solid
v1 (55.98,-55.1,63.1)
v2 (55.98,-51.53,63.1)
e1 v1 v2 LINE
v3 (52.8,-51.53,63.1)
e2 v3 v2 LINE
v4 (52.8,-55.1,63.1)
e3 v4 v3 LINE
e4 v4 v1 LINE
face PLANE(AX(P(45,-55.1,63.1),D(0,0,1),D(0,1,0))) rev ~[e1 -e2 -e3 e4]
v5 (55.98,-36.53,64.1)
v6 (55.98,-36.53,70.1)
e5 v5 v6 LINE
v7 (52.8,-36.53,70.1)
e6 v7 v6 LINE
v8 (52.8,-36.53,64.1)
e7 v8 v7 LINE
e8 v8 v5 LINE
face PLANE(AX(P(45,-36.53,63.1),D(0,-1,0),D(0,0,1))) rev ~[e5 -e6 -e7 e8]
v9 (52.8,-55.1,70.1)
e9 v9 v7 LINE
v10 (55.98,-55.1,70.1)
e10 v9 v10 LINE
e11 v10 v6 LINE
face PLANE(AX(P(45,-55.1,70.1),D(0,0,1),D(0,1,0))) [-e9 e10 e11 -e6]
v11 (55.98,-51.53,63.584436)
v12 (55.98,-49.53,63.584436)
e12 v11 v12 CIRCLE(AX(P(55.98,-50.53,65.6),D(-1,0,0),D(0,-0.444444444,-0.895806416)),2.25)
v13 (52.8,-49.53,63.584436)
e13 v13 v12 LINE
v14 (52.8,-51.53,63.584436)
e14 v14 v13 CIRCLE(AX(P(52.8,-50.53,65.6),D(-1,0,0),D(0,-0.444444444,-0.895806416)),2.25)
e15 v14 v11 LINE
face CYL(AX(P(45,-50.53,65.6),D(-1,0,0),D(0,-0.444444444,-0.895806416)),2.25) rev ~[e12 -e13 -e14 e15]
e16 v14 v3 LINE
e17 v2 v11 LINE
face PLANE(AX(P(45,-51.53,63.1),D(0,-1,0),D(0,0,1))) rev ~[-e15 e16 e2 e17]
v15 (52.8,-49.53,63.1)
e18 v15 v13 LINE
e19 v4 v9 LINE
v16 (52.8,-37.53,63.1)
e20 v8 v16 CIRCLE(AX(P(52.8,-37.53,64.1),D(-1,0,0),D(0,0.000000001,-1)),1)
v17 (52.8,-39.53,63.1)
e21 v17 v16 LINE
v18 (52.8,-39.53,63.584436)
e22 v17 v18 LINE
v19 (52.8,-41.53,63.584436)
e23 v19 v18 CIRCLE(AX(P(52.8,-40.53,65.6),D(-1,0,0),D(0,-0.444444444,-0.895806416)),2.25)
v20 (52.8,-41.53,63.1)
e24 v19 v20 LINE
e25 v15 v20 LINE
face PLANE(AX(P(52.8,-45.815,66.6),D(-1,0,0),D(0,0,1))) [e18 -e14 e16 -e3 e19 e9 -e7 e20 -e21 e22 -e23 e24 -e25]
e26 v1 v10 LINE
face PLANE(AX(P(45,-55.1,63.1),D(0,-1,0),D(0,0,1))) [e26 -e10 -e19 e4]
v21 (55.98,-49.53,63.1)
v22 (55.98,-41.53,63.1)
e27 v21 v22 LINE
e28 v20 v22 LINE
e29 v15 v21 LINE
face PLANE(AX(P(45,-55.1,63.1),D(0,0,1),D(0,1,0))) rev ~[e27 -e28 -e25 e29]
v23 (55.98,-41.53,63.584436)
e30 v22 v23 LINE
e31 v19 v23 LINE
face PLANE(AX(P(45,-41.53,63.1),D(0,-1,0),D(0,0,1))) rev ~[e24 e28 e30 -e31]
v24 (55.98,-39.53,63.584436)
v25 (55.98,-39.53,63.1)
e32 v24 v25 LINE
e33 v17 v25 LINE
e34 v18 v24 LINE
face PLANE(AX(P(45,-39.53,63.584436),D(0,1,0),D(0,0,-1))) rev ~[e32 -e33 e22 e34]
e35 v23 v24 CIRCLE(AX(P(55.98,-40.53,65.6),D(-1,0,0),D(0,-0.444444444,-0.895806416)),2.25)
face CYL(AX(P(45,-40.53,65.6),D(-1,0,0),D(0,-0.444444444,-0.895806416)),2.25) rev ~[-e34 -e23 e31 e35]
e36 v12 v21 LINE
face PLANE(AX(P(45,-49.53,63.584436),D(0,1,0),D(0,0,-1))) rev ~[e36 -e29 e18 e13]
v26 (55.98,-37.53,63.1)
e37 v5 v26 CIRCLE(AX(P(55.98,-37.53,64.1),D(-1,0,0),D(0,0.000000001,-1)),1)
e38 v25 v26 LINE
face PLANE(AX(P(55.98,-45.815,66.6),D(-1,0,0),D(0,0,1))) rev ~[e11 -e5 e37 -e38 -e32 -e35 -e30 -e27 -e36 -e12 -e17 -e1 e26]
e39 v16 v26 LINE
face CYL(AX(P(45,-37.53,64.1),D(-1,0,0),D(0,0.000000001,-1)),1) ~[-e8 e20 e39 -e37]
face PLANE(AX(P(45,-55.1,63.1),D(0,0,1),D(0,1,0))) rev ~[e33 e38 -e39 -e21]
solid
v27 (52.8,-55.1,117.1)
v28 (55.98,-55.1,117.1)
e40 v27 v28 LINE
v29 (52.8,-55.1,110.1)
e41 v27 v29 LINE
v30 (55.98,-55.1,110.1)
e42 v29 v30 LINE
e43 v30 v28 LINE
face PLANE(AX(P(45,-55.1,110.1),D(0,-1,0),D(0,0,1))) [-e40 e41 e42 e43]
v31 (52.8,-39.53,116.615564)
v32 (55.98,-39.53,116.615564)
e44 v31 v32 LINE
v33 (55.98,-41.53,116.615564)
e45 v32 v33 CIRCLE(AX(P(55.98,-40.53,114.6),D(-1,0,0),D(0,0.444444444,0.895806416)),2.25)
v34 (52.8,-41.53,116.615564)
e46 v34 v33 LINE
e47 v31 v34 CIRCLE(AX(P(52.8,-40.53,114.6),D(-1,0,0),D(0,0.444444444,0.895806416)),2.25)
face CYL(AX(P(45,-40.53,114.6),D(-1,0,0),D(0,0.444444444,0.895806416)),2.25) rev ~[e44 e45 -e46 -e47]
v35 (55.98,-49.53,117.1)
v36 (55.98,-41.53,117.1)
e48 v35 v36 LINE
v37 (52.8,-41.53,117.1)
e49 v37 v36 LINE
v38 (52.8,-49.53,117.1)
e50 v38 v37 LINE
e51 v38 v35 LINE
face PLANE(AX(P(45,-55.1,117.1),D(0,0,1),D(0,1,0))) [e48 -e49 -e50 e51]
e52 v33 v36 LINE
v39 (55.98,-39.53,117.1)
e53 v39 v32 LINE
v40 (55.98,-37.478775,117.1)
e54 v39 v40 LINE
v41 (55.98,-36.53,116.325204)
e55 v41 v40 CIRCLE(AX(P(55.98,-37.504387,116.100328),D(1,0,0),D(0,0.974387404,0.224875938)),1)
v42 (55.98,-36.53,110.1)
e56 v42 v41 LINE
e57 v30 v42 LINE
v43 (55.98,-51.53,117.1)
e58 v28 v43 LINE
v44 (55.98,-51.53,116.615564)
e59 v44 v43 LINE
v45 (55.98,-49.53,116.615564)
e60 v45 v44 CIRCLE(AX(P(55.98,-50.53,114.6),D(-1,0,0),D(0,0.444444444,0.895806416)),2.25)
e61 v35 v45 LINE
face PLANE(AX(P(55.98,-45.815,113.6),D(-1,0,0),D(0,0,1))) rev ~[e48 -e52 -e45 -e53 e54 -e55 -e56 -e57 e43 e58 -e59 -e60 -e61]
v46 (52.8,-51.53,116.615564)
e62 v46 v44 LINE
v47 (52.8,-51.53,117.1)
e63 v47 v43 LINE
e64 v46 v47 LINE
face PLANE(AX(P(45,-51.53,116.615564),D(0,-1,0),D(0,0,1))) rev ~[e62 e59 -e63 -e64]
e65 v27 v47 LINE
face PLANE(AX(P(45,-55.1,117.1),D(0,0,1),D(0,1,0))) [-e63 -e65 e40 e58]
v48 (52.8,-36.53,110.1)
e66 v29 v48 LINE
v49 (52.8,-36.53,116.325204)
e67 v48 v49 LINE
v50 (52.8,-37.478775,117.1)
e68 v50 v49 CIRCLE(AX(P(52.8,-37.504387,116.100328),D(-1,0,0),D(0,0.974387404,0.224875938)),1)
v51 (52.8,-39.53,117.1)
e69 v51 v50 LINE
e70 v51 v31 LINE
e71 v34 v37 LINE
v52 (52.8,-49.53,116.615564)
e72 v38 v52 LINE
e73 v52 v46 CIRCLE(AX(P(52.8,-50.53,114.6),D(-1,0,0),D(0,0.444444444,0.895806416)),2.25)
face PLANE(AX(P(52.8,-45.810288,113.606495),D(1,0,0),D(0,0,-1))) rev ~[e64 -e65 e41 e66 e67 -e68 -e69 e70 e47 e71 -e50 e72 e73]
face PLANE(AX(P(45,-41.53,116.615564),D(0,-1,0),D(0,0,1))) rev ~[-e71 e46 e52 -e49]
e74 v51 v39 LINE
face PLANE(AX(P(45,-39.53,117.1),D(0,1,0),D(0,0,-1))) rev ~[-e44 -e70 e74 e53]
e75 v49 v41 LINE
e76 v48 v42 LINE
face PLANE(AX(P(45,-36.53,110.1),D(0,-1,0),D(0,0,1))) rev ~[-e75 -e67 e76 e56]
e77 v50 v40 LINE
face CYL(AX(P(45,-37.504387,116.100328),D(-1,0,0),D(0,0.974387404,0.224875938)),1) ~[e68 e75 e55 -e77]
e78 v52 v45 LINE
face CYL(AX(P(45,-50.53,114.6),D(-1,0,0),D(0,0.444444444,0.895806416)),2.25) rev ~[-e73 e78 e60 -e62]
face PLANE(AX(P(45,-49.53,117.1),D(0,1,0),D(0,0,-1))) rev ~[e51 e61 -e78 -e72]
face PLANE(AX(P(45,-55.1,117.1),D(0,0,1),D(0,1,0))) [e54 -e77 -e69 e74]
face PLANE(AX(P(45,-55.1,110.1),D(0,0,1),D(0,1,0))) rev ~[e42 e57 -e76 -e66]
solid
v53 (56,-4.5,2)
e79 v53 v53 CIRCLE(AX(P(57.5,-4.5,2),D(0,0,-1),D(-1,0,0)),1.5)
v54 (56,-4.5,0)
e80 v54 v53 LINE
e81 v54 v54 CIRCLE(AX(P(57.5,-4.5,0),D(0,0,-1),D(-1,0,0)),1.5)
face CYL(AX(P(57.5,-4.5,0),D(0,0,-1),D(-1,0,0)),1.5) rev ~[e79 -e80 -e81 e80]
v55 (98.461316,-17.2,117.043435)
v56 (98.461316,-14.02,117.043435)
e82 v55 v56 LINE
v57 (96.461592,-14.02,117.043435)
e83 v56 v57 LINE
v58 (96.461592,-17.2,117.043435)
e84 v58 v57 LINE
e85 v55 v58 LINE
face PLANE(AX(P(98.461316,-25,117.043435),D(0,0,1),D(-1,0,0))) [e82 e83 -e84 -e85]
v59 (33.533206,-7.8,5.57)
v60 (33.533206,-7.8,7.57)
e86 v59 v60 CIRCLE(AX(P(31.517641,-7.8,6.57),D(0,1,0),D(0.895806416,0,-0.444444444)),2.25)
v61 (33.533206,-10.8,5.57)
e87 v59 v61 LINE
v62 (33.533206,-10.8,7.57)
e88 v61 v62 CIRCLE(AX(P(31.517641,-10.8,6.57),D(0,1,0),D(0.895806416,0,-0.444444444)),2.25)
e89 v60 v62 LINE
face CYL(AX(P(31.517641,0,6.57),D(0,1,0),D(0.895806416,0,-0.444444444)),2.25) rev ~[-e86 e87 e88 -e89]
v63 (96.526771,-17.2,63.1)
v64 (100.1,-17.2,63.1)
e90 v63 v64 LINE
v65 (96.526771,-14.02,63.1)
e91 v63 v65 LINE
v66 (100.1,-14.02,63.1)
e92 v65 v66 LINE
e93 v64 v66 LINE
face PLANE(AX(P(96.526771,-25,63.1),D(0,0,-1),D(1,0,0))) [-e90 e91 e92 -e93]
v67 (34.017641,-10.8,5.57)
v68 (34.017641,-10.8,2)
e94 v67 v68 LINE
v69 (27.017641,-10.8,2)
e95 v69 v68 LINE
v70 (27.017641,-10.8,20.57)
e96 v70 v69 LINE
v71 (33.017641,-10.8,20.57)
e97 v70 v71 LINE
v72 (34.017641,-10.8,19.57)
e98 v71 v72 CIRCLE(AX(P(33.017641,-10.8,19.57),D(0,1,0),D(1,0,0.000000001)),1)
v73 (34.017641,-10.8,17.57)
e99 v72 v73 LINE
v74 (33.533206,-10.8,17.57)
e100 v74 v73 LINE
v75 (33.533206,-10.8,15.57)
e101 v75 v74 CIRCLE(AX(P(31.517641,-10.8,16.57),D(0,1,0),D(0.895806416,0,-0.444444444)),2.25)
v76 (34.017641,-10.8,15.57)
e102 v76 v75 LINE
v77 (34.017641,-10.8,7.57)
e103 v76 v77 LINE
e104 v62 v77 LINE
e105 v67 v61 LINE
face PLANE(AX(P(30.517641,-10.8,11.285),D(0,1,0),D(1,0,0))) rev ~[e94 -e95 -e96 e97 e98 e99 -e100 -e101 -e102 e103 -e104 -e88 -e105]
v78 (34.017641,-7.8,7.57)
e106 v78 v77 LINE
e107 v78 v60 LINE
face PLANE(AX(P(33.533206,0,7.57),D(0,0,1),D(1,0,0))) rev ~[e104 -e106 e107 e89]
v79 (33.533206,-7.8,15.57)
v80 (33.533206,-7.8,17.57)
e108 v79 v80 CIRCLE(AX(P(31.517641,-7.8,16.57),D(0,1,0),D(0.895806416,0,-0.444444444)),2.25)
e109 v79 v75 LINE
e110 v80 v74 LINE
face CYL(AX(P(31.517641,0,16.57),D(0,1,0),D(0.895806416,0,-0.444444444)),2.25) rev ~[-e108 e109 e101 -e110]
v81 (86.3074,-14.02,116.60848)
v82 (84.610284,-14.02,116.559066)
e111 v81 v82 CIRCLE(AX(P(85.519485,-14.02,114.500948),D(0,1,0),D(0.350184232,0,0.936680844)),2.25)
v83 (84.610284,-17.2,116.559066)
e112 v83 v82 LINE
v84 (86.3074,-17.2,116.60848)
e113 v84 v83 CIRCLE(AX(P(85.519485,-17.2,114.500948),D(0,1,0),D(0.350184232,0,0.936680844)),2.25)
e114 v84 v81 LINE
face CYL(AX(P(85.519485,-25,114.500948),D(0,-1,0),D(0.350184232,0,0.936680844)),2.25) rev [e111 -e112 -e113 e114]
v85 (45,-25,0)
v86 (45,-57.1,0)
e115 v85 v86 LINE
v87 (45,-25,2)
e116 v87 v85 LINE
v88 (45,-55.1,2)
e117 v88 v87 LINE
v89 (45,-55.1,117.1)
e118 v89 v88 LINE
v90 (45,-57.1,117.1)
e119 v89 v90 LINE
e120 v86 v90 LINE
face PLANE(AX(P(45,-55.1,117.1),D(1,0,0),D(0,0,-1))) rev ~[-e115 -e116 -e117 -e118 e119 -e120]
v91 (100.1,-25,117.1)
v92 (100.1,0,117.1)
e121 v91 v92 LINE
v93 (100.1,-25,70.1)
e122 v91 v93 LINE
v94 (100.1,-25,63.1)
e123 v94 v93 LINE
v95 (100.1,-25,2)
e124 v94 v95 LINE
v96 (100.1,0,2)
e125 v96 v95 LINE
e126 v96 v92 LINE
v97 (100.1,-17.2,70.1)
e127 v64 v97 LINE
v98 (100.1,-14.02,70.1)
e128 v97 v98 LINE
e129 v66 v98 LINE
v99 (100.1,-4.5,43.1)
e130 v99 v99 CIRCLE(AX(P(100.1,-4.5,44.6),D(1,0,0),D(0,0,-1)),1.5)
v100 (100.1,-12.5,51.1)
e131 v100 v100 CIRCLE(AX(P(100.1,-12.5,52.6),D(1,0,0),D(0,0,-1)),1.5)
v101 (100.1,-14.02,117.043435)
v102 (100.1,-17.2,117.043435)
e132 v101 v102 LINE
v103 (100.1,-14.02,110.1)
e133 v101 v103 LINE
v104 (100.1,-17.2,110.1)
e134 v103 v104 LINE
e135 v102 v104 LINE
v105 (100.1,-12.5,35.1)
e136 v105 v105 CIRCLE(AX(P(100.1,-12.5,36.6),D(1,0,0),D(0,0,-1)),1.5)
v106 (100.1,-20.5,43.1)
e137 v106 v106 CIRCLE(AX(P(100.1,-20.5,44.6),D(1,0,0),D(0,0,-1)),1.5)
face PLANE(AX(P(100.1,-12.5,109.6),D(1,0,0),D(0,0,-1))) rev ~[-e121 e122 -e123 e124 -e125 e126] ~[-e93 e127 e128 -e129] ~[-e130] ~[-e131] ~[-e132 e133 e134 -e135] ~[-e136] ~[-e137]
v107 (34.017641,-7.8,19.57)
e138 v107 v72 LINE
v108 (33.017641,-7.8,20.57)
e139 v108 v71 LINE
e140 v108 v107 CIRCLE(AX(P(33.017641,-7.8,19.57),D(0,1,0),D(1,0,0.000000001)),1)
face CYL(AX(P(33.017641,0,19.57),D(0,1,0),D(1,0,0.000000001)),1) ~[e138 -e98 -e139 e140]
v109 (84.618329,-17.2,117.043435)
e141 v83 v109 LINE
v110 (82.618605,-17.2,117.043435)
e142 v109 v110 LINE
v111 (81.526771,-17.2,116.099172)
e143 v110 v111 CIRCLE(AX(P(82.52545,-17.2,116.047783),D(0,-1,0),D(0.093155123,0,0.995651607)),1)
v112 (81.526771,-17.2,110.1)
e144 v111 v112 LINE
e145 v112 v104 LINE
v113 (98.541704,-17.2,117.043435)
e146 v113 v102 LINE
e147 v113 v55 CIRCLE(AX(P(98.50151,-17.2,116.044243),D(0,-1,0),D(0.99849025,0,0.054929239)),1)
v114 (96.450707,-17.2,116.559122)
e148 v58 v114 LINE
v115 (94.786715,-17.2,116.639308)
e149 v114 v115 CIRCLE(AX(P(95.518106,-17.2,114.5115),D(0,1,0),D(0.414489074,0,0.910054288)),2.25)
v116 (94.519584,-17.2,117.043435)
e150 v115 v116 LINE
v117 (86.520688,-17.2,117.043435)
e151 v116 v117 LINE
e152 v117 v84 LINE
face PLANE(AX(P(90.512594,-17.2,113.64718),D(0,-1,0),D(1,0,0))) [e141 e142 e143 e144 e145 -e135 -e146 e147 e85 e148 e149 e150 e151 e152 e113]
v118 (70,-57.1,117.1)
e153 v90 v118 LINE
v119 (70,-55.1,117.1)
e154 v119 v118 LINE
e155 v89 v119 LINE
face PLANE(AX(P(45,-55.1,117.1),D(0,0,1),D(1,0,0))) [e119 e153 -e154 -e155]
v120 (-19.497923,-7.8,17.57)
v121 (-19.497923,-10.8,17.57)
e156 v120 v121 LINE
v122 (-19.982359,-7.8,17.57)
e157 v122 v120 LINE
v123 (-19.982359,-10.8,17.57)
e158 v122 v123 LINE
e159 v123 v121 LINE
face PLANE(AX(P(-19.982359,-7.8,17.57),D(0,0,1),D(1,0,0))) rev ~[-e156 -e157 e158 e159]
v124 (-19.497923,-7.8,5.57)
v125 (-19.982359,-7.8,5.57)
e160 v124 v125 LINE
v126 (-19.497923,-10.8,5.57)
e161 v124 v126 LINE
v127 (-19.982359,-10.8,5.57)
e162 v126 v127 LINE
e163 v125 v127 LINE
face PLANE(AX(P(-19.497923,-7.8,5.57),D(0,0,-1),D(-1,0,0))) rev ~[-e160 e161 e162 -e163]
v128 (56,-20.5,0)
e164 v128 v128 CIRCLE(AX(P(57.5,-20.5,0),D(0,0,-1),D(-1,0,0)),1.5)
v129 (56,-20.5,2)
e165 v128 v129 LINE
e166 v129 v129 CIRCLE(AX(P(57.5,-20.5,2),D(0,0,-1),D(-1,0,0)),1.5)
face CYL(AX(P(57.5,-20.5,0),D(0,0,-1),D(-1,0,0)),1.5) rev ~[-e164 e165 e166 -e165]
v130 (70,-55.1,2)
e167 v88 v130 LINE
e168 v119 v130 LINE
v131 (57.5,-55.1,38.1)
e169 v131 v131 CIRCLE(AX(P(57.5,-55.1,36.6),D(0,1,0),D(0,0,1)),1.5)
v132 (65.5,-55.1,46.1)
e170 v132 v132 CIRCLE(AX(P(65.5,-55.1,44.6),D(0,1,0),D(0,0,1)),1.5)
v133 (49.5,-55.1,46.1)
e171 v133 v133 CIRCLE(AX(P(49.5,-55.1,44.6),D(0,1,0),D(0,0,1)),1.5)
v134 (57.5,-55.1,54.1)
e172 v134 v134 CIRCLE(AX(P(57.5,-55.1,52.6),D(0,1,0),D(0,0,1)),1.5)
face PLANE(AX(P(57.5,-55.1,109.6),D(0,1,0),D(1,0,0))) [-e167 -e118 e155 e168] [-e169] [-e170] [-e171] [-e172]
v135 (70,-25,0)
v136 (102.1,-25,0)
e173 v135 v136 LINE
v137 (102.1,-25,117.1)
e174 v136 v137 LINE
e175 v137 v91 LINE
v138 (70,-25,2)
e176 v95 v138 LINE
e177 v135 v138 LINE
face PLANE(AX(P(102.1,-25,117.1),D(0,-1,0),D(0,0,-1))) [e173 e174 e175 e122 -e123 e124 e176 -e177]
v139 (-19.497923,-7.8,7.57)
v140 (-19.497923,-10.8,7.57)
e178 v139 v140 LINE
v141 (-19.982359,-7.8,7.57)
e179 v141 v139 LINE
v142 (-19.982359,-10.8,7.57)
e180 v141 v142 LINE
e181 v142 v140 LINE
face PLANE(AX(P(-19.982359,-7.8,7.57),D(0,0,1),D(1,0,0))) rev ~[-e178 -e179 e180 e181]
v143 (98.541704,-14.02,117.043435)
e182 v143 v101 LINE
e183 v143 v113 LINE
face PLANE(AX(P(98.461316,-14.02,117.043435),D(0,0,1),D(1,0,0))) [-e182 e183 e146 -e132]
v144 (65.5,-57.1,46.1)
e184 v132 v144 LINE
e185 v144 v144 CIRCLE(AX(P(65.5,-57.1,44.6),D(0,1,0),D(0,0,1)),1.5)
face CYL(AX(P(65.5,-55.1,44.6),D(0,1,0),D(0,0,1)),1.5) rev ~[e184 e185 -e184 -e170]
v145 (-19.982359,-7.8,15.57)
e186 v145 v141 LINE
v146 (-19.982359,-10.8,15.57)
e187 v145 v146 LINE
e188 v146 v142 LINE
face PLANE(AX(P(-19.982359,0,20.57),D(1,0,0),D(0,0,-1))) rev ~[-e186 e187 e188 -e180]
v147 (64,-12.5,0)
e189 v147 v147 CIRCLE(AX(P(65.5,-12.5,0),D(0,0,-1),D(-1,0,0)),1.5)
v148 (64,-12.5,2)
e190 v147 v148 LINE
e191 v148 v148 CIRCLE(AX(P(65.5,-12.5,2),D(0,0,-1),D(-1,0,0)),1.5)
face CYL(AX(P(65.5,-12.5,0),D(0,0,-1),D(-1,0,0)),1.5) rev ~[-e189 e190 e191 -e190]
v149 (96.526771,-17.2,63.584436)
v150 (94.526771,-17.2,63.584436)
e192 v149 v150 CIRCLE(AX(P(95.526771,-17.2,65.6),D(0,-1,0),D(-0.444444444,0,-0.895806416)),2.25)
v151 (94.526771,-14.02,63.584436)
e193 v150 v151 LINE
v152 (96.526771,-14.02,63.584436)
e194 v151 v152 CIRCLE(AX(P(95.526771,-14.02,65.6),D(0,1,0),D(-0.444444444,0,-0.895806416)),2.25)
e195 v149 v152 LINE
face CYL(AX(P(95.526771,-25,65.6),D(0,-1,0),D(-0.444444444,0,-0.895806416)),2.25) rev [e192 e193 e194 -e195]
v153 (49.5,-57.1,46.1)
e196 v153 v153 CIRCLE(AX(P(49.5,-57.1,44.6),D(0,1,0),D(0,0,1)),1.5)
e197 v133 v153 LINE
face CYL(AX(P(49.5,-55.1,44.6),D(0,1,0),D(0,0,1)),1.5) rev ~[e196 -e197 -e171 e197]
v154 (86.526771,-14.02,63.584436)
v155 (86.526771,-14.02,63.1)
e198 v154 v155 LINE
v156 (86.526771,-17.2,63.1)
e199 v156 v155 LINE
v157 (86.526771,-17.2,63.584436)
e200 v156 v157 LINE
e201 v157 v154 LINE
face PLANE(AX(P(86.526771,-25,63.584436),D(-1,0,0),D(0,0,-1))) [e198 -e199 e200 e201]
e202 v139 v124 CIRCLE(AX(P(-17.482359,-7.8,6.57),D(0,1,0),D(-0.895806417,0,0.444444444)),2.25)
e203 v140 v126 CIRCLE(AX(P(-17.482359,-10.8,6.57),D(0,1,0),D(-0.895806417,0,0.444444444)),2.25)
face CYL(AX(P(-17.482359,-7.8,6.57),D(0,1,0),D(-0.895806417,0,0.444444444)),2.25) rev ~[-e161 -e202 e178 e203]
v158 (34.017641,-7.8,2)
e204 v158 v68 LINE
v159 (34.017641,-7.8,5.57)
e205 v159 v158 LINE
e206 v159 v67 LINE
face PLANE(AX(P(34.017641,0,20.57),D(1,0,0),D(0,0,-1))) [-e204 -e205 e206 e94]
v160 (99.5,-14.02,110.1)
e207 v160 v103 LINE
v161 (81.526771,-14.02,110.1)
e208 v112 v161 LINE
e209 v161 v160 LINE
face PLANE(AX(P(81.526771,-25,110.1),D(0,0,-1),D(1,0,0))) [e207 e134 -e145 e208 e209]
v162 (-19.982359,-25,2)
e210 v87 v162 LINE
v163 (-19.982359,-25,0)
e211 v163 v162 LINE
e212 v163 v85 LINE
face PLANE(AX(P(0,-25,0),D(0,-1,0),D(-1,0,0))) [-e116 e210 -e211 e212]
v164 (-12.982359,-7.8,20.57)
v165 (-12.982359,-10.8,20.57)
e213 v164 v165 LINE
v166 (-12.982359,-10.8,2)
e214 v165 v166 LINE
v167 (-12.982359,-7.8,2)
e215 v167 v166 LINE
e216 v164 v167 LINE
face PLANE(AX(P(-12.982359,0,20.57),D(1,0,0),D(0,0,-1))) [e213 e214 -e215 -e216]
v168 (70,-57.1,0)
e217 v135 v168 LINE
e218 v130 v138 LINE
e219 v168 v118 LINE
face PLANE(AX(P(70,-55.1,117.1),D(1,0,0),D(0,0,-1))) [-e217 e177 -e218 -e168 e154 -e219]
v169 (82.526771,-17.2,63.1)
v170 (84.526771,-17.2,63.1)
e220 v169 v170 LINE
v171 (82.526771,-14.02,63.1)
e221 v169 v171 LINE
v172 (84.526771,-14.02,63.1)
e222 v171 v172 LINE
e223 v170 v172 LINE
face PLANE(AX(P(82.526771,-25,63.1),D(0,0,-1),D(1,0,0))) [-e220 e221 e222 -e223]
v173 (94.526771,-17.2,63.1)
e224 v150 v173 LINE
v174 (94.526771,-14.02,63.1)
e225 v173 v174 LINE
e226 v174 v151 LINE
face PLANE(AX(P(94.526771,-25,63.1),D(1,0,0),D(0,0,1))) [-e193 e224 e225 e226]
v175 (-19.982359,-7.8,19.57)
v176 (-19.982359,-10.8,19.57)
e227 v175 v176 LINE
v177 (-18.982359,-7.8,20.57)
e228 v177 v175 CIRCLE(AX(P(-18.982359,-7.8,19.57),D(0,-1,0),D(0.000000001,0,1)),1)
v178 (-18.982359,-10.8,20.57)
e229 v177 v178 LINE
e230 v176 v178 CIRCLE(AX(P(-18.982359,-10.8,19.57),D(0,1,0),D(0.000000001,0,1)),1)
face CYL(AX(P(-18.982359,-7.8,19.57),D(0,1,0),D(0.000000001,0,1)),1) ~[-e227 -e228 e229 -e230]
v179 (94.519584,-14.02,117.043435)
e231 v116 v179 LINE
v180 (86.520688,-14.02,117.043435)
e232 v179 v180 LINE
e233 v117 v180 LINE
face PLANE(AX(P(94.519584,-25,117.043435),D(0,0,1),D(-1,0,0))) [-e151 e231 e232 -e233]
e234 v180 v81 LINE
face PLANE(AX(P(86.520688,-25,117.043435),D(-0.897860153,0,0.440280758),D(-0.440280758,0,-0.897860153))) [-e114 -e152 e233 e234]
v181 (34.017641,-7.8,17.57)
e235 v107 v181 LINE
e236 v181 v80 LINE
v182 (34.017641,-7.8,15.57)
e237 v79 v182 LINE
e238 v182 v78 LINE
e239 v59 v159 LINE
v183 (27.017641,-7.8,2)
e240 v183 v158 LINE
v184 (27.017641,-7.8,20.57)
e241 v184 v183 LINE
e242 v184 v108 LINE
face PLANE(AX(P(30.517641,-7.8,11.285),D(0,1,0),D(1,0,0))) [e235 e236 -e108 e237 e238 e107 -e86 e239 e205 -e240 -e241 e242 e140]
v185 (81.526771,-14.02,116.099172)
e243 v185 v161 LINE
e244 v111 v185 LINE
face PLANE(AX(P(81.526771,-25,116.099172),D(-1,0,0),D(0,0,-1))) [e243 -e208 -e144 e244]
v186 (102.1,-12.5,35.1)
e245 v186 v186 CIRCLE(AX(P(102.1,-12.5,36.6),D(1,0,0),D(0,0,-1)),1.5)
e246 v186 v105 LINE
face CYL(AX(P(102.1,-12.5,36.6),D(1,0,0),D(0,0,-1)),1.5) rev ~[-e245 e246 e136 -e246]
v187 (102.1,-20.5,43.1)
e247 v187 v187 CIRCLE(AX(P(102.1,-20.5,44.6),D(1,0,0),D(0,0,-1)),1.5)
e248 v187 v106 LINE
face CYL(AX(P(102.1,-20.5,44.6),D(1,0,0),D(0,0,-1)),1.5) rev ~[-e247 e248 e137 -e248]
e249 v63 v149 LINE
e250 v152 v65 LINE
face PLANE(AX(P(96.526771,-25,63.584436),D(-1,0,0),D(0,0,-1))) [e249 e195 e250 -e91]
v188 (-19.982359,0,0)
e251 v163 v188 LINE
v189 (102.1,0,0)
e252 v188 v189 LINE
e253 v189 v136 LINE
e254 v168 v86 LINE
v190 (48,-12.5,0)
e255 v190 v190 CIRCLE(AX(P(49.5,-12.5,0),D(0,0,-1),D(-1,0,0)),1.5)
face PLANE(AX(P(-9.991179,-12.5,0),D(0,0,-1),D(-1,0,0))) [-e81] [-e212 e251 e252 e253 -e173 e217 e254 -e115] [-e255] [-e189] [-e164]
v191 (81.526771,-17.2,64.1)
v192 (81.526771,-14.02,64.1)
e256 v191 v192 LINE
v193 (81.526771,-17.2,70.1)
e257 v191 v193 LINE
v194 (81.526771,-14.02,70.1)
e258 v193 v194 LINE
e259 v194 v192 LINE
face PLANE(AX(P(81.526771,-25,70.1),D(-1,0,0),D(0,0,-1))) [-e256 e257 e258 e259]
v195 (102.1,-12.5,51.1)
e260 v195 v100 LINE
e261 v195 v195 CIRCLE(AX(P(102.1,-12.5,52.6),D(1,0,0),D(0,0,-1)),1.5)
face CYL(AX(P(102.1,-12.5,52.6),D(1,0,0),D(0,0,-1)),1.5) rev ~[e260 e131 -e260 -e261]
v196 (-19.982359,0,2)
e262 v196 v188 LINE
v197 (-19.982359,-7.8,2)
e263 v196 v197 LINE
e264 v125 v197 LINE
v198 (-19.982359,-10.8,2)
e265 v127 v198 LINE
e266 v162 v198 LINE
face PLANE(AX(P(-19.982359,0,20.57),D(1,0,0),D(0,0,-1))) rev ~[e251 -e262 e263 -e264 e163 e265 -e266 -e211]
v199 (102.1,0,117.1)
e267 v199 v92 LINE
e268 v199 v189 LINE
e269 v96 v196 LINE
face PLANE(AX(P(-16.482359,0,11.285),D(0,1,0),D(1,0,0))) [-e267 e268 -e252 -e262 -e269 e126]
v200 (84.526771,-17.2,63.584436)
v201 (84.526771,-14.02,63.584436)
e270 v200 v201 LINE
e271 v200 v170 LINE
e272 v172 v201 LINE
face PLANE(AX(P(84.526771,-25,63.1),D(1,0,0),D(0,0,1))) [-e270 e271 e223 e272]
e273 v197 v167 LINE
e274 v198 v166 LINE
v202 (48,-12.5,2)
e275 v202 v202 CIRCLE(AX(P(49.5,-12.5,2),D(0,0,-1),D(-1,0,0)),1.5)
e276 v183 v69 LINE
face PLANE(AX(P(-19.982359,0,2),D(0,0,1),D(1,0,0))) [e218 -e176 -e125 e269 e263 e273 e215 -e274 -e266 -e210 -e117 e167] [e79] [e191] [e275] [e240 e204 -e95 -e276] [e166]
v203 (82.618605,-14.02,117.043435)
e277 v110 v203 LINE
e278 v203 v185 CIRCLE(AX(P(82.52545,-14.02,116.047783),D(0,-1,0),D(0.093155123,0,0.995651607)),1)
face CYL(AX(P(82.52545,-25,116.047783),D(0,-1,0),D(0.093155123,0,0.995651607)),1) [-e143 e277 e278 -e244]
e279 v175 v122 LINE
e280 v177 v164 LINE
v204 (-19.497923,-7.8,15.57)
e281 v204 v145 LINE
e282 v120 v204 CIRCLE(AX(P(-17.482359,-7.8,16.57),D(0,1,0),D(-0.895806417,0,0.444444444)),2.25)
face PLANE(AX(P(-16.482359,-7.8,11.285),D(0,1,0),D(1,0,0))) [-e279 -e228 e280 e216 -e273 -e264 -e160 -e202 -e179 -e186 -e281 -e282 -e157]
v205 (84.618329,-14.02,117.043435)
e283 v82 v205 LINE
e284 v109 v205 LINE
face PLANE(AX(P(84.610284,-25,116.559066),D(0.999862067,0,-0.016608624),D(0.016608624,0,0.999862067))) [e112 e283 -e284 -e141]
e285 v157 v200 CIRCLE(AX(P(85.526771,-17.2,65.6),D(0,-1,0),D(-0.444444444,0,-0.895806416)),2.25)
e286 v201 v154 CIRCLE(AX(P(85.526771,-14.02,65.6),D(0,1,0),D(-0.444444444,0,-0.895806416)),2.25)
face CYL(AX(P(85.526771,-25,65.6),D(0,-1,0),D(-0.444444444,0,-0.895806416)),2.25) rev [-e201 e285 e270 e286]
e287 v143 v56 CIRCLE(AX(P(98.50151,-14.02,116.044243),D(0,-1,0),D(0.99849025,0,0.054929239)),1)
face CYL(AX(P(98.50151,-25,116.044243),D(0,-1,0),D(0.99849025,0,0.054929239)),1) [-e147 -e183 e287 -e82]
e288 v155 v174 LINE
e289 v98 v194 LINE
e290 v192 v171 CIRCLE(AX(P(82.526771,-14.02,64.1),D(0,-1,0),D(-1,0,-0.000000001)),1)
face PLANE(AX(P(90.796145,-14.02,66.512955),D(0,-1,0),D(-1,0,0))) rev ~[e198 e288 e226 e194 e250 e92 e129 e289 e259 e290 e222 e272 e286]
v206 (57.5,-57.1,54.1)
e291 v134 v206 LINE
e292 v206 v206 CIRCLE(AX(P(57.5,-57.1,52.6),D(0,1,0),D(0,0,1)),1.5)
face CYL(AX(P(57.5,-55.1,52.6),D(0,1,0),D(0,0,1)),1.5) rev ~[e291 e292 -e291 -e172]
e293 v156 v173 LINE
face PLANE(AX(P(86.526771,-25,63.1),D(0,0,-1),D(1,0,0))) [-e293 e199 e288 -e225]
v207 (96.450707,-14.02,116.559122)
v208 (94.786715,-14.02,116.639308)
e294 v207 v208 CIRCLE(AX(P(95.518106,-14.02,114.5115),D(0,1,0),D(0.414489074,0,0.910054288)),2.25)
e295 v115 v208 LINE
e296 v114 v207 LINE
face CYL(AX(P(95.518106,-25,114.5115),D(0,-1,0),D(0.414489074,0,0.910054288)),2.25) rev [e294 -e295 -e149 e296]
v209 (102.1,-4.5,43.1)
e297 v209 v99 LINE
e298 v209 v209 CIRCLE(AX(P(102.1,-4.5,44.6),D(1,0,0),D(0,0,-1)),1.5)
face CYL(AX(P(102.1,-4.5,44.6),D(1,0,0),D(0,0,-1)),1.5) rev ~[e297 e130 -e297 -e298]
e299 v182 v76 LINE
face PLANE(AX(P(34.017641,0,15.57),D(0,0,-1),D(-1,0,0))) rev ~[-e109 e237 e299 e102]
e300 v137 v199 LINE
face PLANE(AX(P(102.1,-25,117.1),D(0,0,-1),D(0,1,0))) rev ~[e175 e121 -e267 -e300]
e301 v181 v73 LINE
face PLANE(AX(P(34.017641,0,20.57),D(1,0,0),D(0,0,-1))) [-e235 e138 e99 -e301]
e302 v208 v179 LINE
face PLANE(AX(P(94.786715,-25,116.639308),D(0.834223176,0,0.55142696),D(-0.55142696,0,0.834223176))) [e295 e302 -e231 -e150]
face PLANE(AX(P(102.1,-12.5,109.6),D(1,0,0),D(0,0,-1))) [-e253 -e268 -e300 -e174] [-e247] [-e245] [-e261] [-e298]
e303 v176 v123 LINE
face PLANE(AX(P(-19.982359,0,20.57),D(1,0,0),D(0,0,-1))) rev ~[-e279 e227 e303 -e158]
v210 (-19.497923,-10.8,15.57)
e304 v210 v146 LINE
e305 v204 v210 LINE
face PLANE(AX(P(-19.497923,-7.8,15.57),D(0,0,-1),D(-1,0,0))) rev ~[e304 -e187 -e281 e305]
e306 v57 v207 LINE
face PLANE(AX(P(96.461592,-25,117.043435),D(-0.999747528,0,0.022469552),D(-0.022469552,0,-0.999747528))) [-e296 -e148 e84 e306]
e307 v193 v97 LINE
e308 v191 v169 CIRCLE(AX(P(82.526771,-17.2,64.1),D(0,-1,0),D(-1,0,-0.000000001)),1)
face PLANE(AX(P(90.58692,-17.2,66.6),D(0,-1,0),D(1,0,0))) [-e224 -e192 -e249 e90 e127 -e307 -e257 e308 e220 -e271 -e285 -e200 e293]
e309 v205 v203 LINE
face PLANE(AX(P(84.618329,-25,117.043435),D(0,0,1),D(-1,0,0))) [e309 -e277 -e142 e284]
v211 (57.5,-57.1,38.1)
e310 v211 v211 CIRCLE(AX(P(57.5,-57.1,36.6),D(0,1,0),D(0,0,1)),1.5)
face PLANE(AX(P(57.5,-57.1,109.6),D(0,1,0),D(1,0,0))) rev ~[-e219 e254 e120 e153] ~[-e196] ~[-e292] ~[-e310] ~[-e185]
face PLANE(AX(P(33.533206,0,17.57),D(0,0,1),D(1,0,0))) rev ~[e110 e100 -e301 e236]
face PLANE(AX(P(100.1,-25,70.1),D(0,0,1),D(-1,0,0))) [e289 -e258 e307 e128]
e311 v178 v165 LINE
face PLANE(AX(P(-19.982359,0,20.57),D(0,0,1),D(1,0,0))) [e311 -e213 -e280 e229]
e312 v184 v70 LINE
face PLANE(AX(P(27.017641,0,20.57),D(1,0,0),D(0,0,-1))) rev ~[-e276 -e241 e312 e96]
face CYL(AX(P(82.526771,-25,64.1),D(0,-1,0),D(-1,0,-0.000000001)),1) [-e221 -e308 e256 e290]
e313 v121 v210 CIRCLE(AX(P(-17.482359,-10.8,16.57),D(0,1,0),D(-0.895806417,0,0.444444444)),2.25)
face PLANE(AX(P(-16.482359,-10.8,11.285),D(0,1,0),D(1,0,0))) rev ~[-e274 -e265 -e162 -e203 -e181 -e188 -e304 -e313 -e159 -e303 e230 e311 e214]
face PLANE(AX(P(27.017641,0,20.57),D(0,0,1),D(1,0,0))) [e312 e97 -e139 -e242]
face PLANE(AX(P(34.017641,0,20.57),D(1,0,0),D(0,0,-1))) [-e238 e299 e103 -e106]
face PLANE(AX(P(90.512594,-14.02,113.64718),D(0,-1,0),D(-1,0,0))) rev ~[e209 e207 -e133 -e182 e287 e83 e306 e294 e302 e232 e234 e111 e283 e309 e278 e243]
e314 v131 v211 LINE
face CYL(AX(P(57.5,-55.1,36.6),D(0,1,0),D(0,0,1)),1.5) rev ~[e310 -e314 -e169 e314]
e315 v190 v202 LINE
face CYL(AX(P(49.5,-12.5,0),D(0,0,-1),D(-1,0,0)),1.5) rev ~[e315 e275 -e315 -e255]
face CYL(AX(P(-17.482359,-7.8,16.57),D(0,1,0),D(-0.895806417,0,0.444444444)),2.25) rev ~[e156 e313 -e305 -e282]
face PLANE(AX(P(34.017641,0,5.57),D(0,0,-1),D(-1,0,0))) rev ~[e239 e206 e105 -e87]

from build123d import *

# Parameters (mm, degrees)
BOSS_EXTRUDE1_DEPTH   = 25
SKETCH2_R             = 1.5
CUT_EXTRUDE1_DEPTH    = 11.313708668
SKETCH3_R             = 1.5
CUT_EXTRUDE2_DEPTH    = 25
BOSS_EXTRUDE2_DEPTH   = 32.1
SKETCH6_W             = 25
SKETCH6_H             = 30.1
CUT_EXTRUDE3_DEPTH    = 100.1
SKETCH10_R            = 1.5
CUT_EXTRUDE4_DEPTH    = 3
SKETCH11_W            = 15
SKETCH11_H            = 25
BOSS_EXTRUDE3_DEPTH   = 2
SKETCH12_W            = 25
SKETCH12_H            = 15
BOSS_EXTRUDE4_DEPTH   = 2
SKETCH14_W            = 19.982358932
SKETCH14_H            = 25
BOSS_EXTRUDE5_DEPTH   = 2
BOSS_EXTRUDE6_DEPTH   = 10.98
CUT_EXTRUDE5_DEPTH    = 7.8
SKETCH19_W            = 1.638684298
SKETCH19_H            = 6.943435059
BOSS_EXTRUDE7_DEPTH   = 3.18
BOSS_EXTRUDE8_DEPTH   = 10.98
SKETCH22_W            = 19.026159865
SKETCH22_H            = 7
CUT_EXTRUDE6_DEPTH    = 7.8
SKETCH25_W            = 7
SKETCH25_H            = 18.57
BOSS_EXTRUDE9_DEPTH   = 10.98
BOSS_EXTRUDE9_2_DEPTH = 10.98
CUT_EXTRUDE9_DEPTH    = 10.98
CUT_EXTRUDE10_DEPTH   = 7.8
CUT_EXTRUDE11_DEPTH   = 146.586836536
SKETCH30_W            = 7
SKETCH30_H            = 18.57
CUT_EXTRUDE12_DEPTH   = 7.8
SKETCH31_W            = 7
SKETCH31_H            = 18.57
BOSS_EXTRUDE10_DEPTH  = 10.8
CUT_EXTRUDE13_DEPTH   = 166.52108627
SKETCH33_W            = 7
SKETCH33_H            = 18.57
CUT_EXTRUDE14_DEPTH   = 7.8
CUT_EXTRUDE15_DEPTH   = 11.02


with BuildPart() as part:
    # Sketch1 → Boss-Extrude1 (new body)
    with BuildSketch(Plane(origin=(0, 0, 0), x_dir=(1, 0, 0), z_dir=(0, 1, 0))):
        Polygon((0, 0), (102.1, 0), (102.1, -102.1), (100.1, -102.1), (100.1, -2), (0, -2), align=None)
    extrude(amount=-BOSS_EXTRUDE1_DEPTH)

    # Sketch2 → Cut-Extrude1 (cut)
    with BuildSketch(Plane(origin=(0, 0, 0), x_dir=(-1, 0, 0), z_dir=(0, 0, -1))):
        with Locations((-65.500000119, -12.5)):
            Circle(SKETCH2_R)
        with Locations((-57.5, -20.500000119)):
            Circle(SKETCH2_R)
        with Locations((-49.499999881, -12.5)):
            Circle(SKETCH2_R)
        with Locations((-57.5, -4.499999881)):
            Circle(SKETCH2_R)
    extrude(amount=-CUT_EXTRUDE1_DEPTH, mode=Mode.SUBTRACT)

    # Sketch3 → Cut-Extrude2 (cut)
    with BuildSketch(Plane(origin=(102.1, 0, 0), x_dir=(0, 0, -1), z_dir=(1, 0, 0))):
        with Locations((-44.6, -4.499999881)):
            Circle(SKETCH3_R)
        with Locations((-36.599999881, -12.5)):
            Circle(SKETCH3_R)
        with Locations((-52.600000119, -12.5)):
            Circle(SKETCH3_R)
        with Locations((-44.6, -20.500000119)):
            Circle(SKETCH3_R)
    extrude(amount=-CUT_EXTRUDE2_DEPTH, mode=Mode.SUBTRACT)

    # Sketch4 → Boss-Extrude2 (add)
    with BuildSketch(Plane(origin=(0, -25, 0), x_dir=(-1, 0, 0), z_dir=(0, -1, 0))):
        Polygon((-70, -102.1), (-70, -2), (-70, 0), (-45, 0), (-45, -2), (-45, -102.1), align=None)
    extrude(amount=BOSS_EXTRUDE2_DEPTH)

    # Sketch6 → Cut-Extrude3 (cut)
    with BuildSketch(Plane.XY.offset(102.1)):
        with Locations((57.5, -40.05)):
            Rectangle(SKETCH6_W, SKETCH6_H)
    extrude(amount=-CUT_EXTRUDE3_DEPTH, mode=Mode.SUBTRACT)

    # Sketch10 → Cut-Extrude4 (cut)
    with BuildSketch(Plane(origin=(0, -55.1, 0), x_dir=(1, 0, 0), z_dir=(0, 1, 0))):
        with Locations(Location((49.499999881, -44.6, 0), (0, 0, 270))):
            Circle(SKETCH10_R)
        with Locations(Location((57.5, -52.600000119, 0), (0, 0, 270))):
            Circle(SKETCH10_R)
        with Locations(Location((65.500000119, -44.6, 0), (0, 0, 270))):
            Circle(SKETCH10_R)
        with Locations(Location((57.5, -36.599999881, 0), (0, 0, 270))):
            Circle(SKETCH10_R)
    extrude(amount=-CUT_EXTRUDE4_DEPTH, mode=Mode.SUBTRACT)

    # Sketch11 → Boss-Extrude3 (add)
    with BuildSketch(Plane(origin=(102.1, 0, 0), x_dir=(0, 0, -1), z_dir=(1, 0, 0))):
        with Locations((-109.6, -12.5)):
            Rectangle(SKETCH11_W, SKETCH11_H)
    extrude(amount=-BOSS_EXTRUDE3_DEPTH)

    # Sketch12 → Boss-Extrude4 (add)
    with BuildSketch(Plane(origin=(0, -55.1, 0), x_dir=(1, 0, 0), z_dir=(0, 1, 0))):
        with Locations((57.5, -109.6)):
            Rectangle(SKETCH12_W, SKETCH12_H)
    extrude(amount=-BOSS_EXTRUDE4_DEPTH)

    # Sketch14 → Boss-Extrude5 (add)
    with BuildSketch(Plane(origin=(0, 0, 0), x_dir=(-1, 0, 0), z_dir=(0, 0, -1))):
        with Locations((9.991179466, -12.5)):
            Rectangle(SKETCH14_W, SKETCH14_H)
    extrude(amount=-BOSS_EXTRUDE5_DEPTH)



with BuildPart() as body_2:
    # Sketch16 → Boss-Extrude6 (new body)
    with BuildSketch(Plane(origin=(0, -25, 0), x_dir=(-1, 0, 0), z_dir=(0, -1, 0))):
        with BuildLine():
            Line((-99.5, -110.1), (-99.5, -116.099172404))
            ThreePointArc((-99.5, -116.099172404), (-99.174184183, -116.784181749), (-98.461315702, -117.043435059))
            Line((-98.461315702, -117.043435059), (-96.461591568, -117.043435059))
            Line((-96.461591568, -117.043435059), (-96.450706518, -116.559121802))
            ThreePointArc((-96.450706518, -116.559121802), (-95.409806802, -112.264107551), (-94.786714977, -116.639307685))
            Line((-94.786714977, -116.639307685), (-94.519584147, -117.043435059))
            Line((-94.519584147, -117.043435059), (-86.520687608, -117.043435059))
            Line((-86.520687608, -117.043435059), (-86.307399951, -116.60847967))
            ThreePointArc((-86.307399951, -116.60847967), (-85.58496883, -112.251900878), (-84.610283551, -116.559066315))
            Line((-84.610283551, -116.559066315), (-84.618329359, -117.043435059))
            Line((-84.618329359, -117.043435059), (-82.618605224, -117.043435059))
            ThreePointArc((-82.618605224, -117.043435059), (-81.8713085, -116.80415556), (-81.526771386, -116.099172404))
            Line((-81.526771386, -116.099172404), (-81.526771386, -110.1))
            Line((-81.526771386, -110.1), (-99.5, -110.1))
        make_face()
    extrude(amount=-BOSS_EXTRUDE6_DEPTH)

    # Sketch18 → Cut-Extrude5 (cut)
    with BuildSketch(Plane.XZ.offset(25)):
        with BuildLine():
            Line((81.526771386, 110.1), (99.5, 110.1))
            Line((99.5, 110.1), (99.5, 116.099172404))
            ThreePointArc((99.5, 116.099172404), (99.174184183, 116.784181749), (98.461315702, 117.043435059))
            Line((98.461315702, 117.043435059), (96.461591568, 117.043435059))
            Line((96.461591568, 117.043435059), (96.450706518, 116.559121802))
            ThreePointArc((96.450706518, 116.559121802), (95.409806802, 112.264107551), (94.786714977, 116.639307685))
            Line((94.786714977, 116.639307685), (94.519584147, 117.043435059))
            Line((94.519584147, 117.043435059), (86.520687608, 117.043435059))
            Line((86.520687608, 117.043435059), (86.307399951, 116.60847967))
            ThreePointArc((86.307399951, 116.60847967), (85.58496883, 112.251900878), (84.610283551, 116.559066315))
            Line((84.610283551, 116.559066315), (84.618329359, 117.043435059))
            Line((84.618329359, 117.043435059), (82.618605224, 117.043435059))
            ThreePointArc((82.618605224, 117.043435059), (81.8713085, 116.80415556), (81.526771386, 116.099172404))
            Line((81.526771386, 116.099172404), (81.526771386, 110.1))
        make_face()
    extrude(amount=-CUT_EXTRUDE5_DEPTH, mode=Mode.SUBTRACT)


with BuildPart() as part_1:
    add(part.part)

    add(body_2.part)  # Boss-Extrude7 merges body 2
    # Sketch19 → Boss-Extrude7 (add)
    with BuildSketch(Plane(origin=(0, -14.02, 0), x_dir=(1, 0, 0), z_dir=(0, 1, 0))):
        with Locations((99.280657851, -113.57171753)):
            Rectangle(SKETCH19_W, SKETCH19_H)
    extrude(amount=-BOSS_EXTRUDE7_DEPTH)

    # Sketch20 → Boss-Extrude8 (add)
    with BuildSketch(Plane(origin=(0, -25, 0), x_dir=(-1, 0, 0), z_dir=(0, -1, 0))):
        with BuildLine():
            Line((-81.526771386, -70.1), (-81.526771386, -64.1))
            ThreePointArc((-81.526771386, -64.1), (-81.819664605, -63.392893219), (-82.526771386, -63.1))
            Line((-82.526771386, -63.1), (-84.526771386, -63.1))
            Line((-84.526771386, -63.1), (-84.526771386, -63.584435563))
            ThreePointArc((-84.526771386, -63.584435563), (-85.526771386, -67.85), (-86.526771386, -63.584435563))
            Line((-86.526771386, -63.584435563), (-86.526771386, -63.1))
            Line((-86.526771386, -63.1), (-94.526771386, -63.1))
            Line((-94.526771386, -63.1), (-94.526771386, -63.584435563))
            ThreePointArc((-94.526771386, -63.584435563), (-95.526771386, -67.85), (-96.526771386, -63.584435563))
            Line((-96.526771386, -63.584435563), (-96.526771386, -63.1))
            Line((-96.526771386, -63.1), (-100.1, -63.1))
            Line((-100.1, -63.1), (-100.1, -70.1))
            Line((-100.1, -70.1), (-81.526771386, -70.1))
        make_face()
    extrude(amount=-BOSS_EXTRUDE8_DEPTH)

    # Sketch22 → Cut-Extrude6 (cut)
    with BuildSketch(Plane.XZ.offset(25)):
        with Locations((90.586920068, 66.6)):
            Rectangle(SKETCH22_W, SKETCH22_H)
    extrude(amount=-CUT_EXTRUDE6_DEPTH, mode=Mode.SUBTRACT)

    # Sketch31 → Boss-Extrude10 (add)
    with BuildSketch(Plane(origin=(0, 0, 0), x_dir=(1, 0, 0), z_dir=(0, 1, 0))):
        with Locations((30.517641068, -11.285)):
            Rectangle(SKETCH31_W, SKETCH31_H)
        with Locations((-16.482358932, -11.285)):
            Rectangle(SKETCH31_W, SKETCH31_H)
    extrude(amount=-BOSS_EXTRUDE10_DEPTH)

    # Sketch32 → Cut-Extrude13 (cut, through all)
    with BuildSketch(Plane(origin=(0, 0, 0), x_dir=(1, 0, 0), z_dir=(0, 1, 0))):
        with BuildLine():
            Line((33.533205505, -17.57), (34.017641068, -17.57))
            Line((34.017641068, -17.57), (34.017641068, -15.57))
            Line((34.017641068, -15.57), (33.533205505, -15.57))
            ThreePointArc((33.533205505, -15.57), (29.267641068, -16.57), (33.533205505, -17.57))
        make_face()
        with BuildLine():
            Line((34.017641068, -7.57), (34.017641068, -5.57))
            Line((34.017641068, -5.57), (33.533205505, -5.57))
            ThreePointArc((33.533205505, -5.57), (29.267641068, -6.57), (33.533205505, -7.57))
            Line((33.533205505, -7.57), (34.017641068, -7.57))
        make_face()
        with BuildLine():
            ThreePointArc((34.017641068, -19.57), (33.724747849, -20.277106781), (33.017641068, -20.57))
            Line((33.017641068, -20.57), (34.017641068, -20.57))
            Line((34.017641068, -20.57), (34.017641068, -19.57))
        make_face()
    extrude(amount=-CUT_EXTRUDE13_DEPTH, mode=Mode.SUBTRACT)

    # Sketch33 → Cut-Extrude14 (cut)
    with BuildSketch(Plane(origin=(0, 0, 0), x_dir=(1, 0, 0), z_dir=(0, 1, 0))):
        with Locations((30.517641068, -11.285)):
            Rectangle(SKETCH33_W, SKETCH33_H)
        with Locations((-16.482358932, -11.285)):
            Rectangle(SKETCH33_W, SKETCH33_H)
    extrude(amount=-CUT_EXTRUDE14_DEPTH, mode=Mode.SUBTRACT)

    # Sketch34 → Cut-Extrude15 (cut)
    with BuildSketch(Plane(origin=(0, -7.8, 0), x_dir=(1, 0, 0), z_dir=(0, 1, 0))):
        with BuildLine():
            Line((-19.49792337, -5.57), (-19.982358932, -5.57))
            Line((-19.982358932, -5.57), (-19.982358932, -7.57))
            Line((-19.982358932, -7.57), (-19.49792337, -7.57))
            ThreePointArc((-19.49792337, -7.57), (-15.232358932, -6.57), (-19.49792337, -5.57))
        make_face()
        with BuildLine():
            Line((-19.49792337, -15.57), (-19.982358932, -15.57))
            Line((-19.982358932, -15.57), (-19.982358932, -17.57))
            Line((-19.982358932, -17.57), (-19.49792337, -17.57))
            ThreePointArc((-19.49792337, -17.57), (-15.232358932, -16.57), (-19.49792337, -15.57))
        make_face()
        with BuildLine():
            Line((-19.982358932, -20.57), (-18.982358932, -20.57))
            ThreePointArc((-18.982358932, -20.57), (-19.689465714, -20.277106781), (-19.982358932, -19.57))
            Line((-19.982358932, -19.57), (-19.982358932, -20.57))
        make_face()
    extrude(amount=-CUT_EXTRUDE15_DEPTH, mode=Mode.SUBTRACT)


with BuildPart() as body_2_2:
    # Sketch25 → Boss-Extrude9 (new body)
    with BuildSketch(Plane.ZY.offset(-45)):
        with Locations((113.6, -45.815)):
            Rectangle(SKETCH25_W, SKETCH25_H)
    extrude(amount=-BOSS_EXTRUDE9_DEPTH)

    # Sketch27 → Cut-Extrude9 (cut)
    with BuildSketch(Plane.ZY.offset(-45)):
        with BuildLine():
            Line((116.615564437, -51.53), (117.1, -51.53))
            Line((117.1, -51.53), (117.1, -49.53))
            Line((117.1, -49.53), (116.615564437, -49.53))
            ThreePointArc((116.615564437, -49.53), (112.35, -50.53), (116.615564437, -51.53))
        make_face()
        with BuildLine():
            Line((116.615564437, -41.53), (117.1, -41.53))
            Line((117.1, -41.53), (117.1, -39.53))
            Line((117.1, -39.53), (116.615564437, -39.53))
            ThreePointArc((116.615564437, -39.53), (112.35, -40.53), (116.615564437, -41.53))
        make_face()
        with BuildLine():
            Line((117.1, -36.53), (116.325203993, -36.53))
            ThreePointArc((116.325203993, -36.53), (116.874874883, -36.871870833), (117.1, -37.478774808))
            Line((117.1, -37.478774808), (117.1, -36.53))
        make_face()
    extrude(amount=-CUT_EXTRUDE9_DEPTH, mode=Mode.SUBTRACT)

    # Sketch28 → Cut-Extrude10 (cut)
    with BuildSketch(Plane.ZY.offset(-45)):
        Polygon((110.1, -36.53), (117.125963379, -36.53), (117.1, -55.1), (110.1, -55.1), align=None)
    extrude(amount=-CUT_EXTRUDE10_DEPTH, mode=Mode.SUBTRACT)


with BuildPart() as body_3:
    # Sketch25 → Boss-Extrude9 2 (new body)
    with BuildSketch(Plane.ZY.offset(-45)):
        with Locations((66.6, -45.815)):
            Rectangle(SKETCH25_W, SKETCH25_H)
    extrude(amount=-BOSS_EXTRUDE9_2_DEPTH)

    # Sketch29 → Cut-Extrude11 (cut, through all)
    with BuildSketch(Plane.ZY.offset(-45)):
        with BuildLine():
            Line((63.584435563, -39.53), (63.1, -39.53))
            Line((63.1, -39.53), (63.1, -41.53))
            Line((63.1, -41.53), (63.584435563, -41.53))
            ThreePointArc((63.584435563, -41.53), (67.85, -40.53), (63.584435563, -39.53))
        make_face()
        with BuildLine():
            Line((63.1, -49.53), (63.1, -51.53))
            Line((63.1, -51.53), (63.584435563, -51.53))
            ThreePointArc((63.584435563, -51.53), (67.85, -50.53), (63.584435563, -49.53))
            Line((63.584435563, -49.53), (63.1, -49.53))
        make_face()
        with BuildLine():
            ThreePointArc((63.1, -37.53), (63.392893219, -36.822893219), (64.1, -36.53))
            Line((64.1, -36.53), (63.1, -36.53))
            Line((63.1, -36.53), (63.1, -37.53))
        make_face()
    extrude(amount=-CUT_EXTRUDE11_DEPTH, mode=Mode.SUBTRACT)

    # Sketch30 → Cut-Extrude12 (cut)
    with BuildSketch(Plane.ZY.offset(-45)):
        with Locations((66.6, -45.815)):
            Rectangle(SKETCH30_W, SKETCH30_H)
    extrude(amount=-CUT_EXTRUDE12_DEPTH, mode=Mode.SUBTRACT)


solid = Compound([part_1.part, body_2_2.part, body_3.part])
